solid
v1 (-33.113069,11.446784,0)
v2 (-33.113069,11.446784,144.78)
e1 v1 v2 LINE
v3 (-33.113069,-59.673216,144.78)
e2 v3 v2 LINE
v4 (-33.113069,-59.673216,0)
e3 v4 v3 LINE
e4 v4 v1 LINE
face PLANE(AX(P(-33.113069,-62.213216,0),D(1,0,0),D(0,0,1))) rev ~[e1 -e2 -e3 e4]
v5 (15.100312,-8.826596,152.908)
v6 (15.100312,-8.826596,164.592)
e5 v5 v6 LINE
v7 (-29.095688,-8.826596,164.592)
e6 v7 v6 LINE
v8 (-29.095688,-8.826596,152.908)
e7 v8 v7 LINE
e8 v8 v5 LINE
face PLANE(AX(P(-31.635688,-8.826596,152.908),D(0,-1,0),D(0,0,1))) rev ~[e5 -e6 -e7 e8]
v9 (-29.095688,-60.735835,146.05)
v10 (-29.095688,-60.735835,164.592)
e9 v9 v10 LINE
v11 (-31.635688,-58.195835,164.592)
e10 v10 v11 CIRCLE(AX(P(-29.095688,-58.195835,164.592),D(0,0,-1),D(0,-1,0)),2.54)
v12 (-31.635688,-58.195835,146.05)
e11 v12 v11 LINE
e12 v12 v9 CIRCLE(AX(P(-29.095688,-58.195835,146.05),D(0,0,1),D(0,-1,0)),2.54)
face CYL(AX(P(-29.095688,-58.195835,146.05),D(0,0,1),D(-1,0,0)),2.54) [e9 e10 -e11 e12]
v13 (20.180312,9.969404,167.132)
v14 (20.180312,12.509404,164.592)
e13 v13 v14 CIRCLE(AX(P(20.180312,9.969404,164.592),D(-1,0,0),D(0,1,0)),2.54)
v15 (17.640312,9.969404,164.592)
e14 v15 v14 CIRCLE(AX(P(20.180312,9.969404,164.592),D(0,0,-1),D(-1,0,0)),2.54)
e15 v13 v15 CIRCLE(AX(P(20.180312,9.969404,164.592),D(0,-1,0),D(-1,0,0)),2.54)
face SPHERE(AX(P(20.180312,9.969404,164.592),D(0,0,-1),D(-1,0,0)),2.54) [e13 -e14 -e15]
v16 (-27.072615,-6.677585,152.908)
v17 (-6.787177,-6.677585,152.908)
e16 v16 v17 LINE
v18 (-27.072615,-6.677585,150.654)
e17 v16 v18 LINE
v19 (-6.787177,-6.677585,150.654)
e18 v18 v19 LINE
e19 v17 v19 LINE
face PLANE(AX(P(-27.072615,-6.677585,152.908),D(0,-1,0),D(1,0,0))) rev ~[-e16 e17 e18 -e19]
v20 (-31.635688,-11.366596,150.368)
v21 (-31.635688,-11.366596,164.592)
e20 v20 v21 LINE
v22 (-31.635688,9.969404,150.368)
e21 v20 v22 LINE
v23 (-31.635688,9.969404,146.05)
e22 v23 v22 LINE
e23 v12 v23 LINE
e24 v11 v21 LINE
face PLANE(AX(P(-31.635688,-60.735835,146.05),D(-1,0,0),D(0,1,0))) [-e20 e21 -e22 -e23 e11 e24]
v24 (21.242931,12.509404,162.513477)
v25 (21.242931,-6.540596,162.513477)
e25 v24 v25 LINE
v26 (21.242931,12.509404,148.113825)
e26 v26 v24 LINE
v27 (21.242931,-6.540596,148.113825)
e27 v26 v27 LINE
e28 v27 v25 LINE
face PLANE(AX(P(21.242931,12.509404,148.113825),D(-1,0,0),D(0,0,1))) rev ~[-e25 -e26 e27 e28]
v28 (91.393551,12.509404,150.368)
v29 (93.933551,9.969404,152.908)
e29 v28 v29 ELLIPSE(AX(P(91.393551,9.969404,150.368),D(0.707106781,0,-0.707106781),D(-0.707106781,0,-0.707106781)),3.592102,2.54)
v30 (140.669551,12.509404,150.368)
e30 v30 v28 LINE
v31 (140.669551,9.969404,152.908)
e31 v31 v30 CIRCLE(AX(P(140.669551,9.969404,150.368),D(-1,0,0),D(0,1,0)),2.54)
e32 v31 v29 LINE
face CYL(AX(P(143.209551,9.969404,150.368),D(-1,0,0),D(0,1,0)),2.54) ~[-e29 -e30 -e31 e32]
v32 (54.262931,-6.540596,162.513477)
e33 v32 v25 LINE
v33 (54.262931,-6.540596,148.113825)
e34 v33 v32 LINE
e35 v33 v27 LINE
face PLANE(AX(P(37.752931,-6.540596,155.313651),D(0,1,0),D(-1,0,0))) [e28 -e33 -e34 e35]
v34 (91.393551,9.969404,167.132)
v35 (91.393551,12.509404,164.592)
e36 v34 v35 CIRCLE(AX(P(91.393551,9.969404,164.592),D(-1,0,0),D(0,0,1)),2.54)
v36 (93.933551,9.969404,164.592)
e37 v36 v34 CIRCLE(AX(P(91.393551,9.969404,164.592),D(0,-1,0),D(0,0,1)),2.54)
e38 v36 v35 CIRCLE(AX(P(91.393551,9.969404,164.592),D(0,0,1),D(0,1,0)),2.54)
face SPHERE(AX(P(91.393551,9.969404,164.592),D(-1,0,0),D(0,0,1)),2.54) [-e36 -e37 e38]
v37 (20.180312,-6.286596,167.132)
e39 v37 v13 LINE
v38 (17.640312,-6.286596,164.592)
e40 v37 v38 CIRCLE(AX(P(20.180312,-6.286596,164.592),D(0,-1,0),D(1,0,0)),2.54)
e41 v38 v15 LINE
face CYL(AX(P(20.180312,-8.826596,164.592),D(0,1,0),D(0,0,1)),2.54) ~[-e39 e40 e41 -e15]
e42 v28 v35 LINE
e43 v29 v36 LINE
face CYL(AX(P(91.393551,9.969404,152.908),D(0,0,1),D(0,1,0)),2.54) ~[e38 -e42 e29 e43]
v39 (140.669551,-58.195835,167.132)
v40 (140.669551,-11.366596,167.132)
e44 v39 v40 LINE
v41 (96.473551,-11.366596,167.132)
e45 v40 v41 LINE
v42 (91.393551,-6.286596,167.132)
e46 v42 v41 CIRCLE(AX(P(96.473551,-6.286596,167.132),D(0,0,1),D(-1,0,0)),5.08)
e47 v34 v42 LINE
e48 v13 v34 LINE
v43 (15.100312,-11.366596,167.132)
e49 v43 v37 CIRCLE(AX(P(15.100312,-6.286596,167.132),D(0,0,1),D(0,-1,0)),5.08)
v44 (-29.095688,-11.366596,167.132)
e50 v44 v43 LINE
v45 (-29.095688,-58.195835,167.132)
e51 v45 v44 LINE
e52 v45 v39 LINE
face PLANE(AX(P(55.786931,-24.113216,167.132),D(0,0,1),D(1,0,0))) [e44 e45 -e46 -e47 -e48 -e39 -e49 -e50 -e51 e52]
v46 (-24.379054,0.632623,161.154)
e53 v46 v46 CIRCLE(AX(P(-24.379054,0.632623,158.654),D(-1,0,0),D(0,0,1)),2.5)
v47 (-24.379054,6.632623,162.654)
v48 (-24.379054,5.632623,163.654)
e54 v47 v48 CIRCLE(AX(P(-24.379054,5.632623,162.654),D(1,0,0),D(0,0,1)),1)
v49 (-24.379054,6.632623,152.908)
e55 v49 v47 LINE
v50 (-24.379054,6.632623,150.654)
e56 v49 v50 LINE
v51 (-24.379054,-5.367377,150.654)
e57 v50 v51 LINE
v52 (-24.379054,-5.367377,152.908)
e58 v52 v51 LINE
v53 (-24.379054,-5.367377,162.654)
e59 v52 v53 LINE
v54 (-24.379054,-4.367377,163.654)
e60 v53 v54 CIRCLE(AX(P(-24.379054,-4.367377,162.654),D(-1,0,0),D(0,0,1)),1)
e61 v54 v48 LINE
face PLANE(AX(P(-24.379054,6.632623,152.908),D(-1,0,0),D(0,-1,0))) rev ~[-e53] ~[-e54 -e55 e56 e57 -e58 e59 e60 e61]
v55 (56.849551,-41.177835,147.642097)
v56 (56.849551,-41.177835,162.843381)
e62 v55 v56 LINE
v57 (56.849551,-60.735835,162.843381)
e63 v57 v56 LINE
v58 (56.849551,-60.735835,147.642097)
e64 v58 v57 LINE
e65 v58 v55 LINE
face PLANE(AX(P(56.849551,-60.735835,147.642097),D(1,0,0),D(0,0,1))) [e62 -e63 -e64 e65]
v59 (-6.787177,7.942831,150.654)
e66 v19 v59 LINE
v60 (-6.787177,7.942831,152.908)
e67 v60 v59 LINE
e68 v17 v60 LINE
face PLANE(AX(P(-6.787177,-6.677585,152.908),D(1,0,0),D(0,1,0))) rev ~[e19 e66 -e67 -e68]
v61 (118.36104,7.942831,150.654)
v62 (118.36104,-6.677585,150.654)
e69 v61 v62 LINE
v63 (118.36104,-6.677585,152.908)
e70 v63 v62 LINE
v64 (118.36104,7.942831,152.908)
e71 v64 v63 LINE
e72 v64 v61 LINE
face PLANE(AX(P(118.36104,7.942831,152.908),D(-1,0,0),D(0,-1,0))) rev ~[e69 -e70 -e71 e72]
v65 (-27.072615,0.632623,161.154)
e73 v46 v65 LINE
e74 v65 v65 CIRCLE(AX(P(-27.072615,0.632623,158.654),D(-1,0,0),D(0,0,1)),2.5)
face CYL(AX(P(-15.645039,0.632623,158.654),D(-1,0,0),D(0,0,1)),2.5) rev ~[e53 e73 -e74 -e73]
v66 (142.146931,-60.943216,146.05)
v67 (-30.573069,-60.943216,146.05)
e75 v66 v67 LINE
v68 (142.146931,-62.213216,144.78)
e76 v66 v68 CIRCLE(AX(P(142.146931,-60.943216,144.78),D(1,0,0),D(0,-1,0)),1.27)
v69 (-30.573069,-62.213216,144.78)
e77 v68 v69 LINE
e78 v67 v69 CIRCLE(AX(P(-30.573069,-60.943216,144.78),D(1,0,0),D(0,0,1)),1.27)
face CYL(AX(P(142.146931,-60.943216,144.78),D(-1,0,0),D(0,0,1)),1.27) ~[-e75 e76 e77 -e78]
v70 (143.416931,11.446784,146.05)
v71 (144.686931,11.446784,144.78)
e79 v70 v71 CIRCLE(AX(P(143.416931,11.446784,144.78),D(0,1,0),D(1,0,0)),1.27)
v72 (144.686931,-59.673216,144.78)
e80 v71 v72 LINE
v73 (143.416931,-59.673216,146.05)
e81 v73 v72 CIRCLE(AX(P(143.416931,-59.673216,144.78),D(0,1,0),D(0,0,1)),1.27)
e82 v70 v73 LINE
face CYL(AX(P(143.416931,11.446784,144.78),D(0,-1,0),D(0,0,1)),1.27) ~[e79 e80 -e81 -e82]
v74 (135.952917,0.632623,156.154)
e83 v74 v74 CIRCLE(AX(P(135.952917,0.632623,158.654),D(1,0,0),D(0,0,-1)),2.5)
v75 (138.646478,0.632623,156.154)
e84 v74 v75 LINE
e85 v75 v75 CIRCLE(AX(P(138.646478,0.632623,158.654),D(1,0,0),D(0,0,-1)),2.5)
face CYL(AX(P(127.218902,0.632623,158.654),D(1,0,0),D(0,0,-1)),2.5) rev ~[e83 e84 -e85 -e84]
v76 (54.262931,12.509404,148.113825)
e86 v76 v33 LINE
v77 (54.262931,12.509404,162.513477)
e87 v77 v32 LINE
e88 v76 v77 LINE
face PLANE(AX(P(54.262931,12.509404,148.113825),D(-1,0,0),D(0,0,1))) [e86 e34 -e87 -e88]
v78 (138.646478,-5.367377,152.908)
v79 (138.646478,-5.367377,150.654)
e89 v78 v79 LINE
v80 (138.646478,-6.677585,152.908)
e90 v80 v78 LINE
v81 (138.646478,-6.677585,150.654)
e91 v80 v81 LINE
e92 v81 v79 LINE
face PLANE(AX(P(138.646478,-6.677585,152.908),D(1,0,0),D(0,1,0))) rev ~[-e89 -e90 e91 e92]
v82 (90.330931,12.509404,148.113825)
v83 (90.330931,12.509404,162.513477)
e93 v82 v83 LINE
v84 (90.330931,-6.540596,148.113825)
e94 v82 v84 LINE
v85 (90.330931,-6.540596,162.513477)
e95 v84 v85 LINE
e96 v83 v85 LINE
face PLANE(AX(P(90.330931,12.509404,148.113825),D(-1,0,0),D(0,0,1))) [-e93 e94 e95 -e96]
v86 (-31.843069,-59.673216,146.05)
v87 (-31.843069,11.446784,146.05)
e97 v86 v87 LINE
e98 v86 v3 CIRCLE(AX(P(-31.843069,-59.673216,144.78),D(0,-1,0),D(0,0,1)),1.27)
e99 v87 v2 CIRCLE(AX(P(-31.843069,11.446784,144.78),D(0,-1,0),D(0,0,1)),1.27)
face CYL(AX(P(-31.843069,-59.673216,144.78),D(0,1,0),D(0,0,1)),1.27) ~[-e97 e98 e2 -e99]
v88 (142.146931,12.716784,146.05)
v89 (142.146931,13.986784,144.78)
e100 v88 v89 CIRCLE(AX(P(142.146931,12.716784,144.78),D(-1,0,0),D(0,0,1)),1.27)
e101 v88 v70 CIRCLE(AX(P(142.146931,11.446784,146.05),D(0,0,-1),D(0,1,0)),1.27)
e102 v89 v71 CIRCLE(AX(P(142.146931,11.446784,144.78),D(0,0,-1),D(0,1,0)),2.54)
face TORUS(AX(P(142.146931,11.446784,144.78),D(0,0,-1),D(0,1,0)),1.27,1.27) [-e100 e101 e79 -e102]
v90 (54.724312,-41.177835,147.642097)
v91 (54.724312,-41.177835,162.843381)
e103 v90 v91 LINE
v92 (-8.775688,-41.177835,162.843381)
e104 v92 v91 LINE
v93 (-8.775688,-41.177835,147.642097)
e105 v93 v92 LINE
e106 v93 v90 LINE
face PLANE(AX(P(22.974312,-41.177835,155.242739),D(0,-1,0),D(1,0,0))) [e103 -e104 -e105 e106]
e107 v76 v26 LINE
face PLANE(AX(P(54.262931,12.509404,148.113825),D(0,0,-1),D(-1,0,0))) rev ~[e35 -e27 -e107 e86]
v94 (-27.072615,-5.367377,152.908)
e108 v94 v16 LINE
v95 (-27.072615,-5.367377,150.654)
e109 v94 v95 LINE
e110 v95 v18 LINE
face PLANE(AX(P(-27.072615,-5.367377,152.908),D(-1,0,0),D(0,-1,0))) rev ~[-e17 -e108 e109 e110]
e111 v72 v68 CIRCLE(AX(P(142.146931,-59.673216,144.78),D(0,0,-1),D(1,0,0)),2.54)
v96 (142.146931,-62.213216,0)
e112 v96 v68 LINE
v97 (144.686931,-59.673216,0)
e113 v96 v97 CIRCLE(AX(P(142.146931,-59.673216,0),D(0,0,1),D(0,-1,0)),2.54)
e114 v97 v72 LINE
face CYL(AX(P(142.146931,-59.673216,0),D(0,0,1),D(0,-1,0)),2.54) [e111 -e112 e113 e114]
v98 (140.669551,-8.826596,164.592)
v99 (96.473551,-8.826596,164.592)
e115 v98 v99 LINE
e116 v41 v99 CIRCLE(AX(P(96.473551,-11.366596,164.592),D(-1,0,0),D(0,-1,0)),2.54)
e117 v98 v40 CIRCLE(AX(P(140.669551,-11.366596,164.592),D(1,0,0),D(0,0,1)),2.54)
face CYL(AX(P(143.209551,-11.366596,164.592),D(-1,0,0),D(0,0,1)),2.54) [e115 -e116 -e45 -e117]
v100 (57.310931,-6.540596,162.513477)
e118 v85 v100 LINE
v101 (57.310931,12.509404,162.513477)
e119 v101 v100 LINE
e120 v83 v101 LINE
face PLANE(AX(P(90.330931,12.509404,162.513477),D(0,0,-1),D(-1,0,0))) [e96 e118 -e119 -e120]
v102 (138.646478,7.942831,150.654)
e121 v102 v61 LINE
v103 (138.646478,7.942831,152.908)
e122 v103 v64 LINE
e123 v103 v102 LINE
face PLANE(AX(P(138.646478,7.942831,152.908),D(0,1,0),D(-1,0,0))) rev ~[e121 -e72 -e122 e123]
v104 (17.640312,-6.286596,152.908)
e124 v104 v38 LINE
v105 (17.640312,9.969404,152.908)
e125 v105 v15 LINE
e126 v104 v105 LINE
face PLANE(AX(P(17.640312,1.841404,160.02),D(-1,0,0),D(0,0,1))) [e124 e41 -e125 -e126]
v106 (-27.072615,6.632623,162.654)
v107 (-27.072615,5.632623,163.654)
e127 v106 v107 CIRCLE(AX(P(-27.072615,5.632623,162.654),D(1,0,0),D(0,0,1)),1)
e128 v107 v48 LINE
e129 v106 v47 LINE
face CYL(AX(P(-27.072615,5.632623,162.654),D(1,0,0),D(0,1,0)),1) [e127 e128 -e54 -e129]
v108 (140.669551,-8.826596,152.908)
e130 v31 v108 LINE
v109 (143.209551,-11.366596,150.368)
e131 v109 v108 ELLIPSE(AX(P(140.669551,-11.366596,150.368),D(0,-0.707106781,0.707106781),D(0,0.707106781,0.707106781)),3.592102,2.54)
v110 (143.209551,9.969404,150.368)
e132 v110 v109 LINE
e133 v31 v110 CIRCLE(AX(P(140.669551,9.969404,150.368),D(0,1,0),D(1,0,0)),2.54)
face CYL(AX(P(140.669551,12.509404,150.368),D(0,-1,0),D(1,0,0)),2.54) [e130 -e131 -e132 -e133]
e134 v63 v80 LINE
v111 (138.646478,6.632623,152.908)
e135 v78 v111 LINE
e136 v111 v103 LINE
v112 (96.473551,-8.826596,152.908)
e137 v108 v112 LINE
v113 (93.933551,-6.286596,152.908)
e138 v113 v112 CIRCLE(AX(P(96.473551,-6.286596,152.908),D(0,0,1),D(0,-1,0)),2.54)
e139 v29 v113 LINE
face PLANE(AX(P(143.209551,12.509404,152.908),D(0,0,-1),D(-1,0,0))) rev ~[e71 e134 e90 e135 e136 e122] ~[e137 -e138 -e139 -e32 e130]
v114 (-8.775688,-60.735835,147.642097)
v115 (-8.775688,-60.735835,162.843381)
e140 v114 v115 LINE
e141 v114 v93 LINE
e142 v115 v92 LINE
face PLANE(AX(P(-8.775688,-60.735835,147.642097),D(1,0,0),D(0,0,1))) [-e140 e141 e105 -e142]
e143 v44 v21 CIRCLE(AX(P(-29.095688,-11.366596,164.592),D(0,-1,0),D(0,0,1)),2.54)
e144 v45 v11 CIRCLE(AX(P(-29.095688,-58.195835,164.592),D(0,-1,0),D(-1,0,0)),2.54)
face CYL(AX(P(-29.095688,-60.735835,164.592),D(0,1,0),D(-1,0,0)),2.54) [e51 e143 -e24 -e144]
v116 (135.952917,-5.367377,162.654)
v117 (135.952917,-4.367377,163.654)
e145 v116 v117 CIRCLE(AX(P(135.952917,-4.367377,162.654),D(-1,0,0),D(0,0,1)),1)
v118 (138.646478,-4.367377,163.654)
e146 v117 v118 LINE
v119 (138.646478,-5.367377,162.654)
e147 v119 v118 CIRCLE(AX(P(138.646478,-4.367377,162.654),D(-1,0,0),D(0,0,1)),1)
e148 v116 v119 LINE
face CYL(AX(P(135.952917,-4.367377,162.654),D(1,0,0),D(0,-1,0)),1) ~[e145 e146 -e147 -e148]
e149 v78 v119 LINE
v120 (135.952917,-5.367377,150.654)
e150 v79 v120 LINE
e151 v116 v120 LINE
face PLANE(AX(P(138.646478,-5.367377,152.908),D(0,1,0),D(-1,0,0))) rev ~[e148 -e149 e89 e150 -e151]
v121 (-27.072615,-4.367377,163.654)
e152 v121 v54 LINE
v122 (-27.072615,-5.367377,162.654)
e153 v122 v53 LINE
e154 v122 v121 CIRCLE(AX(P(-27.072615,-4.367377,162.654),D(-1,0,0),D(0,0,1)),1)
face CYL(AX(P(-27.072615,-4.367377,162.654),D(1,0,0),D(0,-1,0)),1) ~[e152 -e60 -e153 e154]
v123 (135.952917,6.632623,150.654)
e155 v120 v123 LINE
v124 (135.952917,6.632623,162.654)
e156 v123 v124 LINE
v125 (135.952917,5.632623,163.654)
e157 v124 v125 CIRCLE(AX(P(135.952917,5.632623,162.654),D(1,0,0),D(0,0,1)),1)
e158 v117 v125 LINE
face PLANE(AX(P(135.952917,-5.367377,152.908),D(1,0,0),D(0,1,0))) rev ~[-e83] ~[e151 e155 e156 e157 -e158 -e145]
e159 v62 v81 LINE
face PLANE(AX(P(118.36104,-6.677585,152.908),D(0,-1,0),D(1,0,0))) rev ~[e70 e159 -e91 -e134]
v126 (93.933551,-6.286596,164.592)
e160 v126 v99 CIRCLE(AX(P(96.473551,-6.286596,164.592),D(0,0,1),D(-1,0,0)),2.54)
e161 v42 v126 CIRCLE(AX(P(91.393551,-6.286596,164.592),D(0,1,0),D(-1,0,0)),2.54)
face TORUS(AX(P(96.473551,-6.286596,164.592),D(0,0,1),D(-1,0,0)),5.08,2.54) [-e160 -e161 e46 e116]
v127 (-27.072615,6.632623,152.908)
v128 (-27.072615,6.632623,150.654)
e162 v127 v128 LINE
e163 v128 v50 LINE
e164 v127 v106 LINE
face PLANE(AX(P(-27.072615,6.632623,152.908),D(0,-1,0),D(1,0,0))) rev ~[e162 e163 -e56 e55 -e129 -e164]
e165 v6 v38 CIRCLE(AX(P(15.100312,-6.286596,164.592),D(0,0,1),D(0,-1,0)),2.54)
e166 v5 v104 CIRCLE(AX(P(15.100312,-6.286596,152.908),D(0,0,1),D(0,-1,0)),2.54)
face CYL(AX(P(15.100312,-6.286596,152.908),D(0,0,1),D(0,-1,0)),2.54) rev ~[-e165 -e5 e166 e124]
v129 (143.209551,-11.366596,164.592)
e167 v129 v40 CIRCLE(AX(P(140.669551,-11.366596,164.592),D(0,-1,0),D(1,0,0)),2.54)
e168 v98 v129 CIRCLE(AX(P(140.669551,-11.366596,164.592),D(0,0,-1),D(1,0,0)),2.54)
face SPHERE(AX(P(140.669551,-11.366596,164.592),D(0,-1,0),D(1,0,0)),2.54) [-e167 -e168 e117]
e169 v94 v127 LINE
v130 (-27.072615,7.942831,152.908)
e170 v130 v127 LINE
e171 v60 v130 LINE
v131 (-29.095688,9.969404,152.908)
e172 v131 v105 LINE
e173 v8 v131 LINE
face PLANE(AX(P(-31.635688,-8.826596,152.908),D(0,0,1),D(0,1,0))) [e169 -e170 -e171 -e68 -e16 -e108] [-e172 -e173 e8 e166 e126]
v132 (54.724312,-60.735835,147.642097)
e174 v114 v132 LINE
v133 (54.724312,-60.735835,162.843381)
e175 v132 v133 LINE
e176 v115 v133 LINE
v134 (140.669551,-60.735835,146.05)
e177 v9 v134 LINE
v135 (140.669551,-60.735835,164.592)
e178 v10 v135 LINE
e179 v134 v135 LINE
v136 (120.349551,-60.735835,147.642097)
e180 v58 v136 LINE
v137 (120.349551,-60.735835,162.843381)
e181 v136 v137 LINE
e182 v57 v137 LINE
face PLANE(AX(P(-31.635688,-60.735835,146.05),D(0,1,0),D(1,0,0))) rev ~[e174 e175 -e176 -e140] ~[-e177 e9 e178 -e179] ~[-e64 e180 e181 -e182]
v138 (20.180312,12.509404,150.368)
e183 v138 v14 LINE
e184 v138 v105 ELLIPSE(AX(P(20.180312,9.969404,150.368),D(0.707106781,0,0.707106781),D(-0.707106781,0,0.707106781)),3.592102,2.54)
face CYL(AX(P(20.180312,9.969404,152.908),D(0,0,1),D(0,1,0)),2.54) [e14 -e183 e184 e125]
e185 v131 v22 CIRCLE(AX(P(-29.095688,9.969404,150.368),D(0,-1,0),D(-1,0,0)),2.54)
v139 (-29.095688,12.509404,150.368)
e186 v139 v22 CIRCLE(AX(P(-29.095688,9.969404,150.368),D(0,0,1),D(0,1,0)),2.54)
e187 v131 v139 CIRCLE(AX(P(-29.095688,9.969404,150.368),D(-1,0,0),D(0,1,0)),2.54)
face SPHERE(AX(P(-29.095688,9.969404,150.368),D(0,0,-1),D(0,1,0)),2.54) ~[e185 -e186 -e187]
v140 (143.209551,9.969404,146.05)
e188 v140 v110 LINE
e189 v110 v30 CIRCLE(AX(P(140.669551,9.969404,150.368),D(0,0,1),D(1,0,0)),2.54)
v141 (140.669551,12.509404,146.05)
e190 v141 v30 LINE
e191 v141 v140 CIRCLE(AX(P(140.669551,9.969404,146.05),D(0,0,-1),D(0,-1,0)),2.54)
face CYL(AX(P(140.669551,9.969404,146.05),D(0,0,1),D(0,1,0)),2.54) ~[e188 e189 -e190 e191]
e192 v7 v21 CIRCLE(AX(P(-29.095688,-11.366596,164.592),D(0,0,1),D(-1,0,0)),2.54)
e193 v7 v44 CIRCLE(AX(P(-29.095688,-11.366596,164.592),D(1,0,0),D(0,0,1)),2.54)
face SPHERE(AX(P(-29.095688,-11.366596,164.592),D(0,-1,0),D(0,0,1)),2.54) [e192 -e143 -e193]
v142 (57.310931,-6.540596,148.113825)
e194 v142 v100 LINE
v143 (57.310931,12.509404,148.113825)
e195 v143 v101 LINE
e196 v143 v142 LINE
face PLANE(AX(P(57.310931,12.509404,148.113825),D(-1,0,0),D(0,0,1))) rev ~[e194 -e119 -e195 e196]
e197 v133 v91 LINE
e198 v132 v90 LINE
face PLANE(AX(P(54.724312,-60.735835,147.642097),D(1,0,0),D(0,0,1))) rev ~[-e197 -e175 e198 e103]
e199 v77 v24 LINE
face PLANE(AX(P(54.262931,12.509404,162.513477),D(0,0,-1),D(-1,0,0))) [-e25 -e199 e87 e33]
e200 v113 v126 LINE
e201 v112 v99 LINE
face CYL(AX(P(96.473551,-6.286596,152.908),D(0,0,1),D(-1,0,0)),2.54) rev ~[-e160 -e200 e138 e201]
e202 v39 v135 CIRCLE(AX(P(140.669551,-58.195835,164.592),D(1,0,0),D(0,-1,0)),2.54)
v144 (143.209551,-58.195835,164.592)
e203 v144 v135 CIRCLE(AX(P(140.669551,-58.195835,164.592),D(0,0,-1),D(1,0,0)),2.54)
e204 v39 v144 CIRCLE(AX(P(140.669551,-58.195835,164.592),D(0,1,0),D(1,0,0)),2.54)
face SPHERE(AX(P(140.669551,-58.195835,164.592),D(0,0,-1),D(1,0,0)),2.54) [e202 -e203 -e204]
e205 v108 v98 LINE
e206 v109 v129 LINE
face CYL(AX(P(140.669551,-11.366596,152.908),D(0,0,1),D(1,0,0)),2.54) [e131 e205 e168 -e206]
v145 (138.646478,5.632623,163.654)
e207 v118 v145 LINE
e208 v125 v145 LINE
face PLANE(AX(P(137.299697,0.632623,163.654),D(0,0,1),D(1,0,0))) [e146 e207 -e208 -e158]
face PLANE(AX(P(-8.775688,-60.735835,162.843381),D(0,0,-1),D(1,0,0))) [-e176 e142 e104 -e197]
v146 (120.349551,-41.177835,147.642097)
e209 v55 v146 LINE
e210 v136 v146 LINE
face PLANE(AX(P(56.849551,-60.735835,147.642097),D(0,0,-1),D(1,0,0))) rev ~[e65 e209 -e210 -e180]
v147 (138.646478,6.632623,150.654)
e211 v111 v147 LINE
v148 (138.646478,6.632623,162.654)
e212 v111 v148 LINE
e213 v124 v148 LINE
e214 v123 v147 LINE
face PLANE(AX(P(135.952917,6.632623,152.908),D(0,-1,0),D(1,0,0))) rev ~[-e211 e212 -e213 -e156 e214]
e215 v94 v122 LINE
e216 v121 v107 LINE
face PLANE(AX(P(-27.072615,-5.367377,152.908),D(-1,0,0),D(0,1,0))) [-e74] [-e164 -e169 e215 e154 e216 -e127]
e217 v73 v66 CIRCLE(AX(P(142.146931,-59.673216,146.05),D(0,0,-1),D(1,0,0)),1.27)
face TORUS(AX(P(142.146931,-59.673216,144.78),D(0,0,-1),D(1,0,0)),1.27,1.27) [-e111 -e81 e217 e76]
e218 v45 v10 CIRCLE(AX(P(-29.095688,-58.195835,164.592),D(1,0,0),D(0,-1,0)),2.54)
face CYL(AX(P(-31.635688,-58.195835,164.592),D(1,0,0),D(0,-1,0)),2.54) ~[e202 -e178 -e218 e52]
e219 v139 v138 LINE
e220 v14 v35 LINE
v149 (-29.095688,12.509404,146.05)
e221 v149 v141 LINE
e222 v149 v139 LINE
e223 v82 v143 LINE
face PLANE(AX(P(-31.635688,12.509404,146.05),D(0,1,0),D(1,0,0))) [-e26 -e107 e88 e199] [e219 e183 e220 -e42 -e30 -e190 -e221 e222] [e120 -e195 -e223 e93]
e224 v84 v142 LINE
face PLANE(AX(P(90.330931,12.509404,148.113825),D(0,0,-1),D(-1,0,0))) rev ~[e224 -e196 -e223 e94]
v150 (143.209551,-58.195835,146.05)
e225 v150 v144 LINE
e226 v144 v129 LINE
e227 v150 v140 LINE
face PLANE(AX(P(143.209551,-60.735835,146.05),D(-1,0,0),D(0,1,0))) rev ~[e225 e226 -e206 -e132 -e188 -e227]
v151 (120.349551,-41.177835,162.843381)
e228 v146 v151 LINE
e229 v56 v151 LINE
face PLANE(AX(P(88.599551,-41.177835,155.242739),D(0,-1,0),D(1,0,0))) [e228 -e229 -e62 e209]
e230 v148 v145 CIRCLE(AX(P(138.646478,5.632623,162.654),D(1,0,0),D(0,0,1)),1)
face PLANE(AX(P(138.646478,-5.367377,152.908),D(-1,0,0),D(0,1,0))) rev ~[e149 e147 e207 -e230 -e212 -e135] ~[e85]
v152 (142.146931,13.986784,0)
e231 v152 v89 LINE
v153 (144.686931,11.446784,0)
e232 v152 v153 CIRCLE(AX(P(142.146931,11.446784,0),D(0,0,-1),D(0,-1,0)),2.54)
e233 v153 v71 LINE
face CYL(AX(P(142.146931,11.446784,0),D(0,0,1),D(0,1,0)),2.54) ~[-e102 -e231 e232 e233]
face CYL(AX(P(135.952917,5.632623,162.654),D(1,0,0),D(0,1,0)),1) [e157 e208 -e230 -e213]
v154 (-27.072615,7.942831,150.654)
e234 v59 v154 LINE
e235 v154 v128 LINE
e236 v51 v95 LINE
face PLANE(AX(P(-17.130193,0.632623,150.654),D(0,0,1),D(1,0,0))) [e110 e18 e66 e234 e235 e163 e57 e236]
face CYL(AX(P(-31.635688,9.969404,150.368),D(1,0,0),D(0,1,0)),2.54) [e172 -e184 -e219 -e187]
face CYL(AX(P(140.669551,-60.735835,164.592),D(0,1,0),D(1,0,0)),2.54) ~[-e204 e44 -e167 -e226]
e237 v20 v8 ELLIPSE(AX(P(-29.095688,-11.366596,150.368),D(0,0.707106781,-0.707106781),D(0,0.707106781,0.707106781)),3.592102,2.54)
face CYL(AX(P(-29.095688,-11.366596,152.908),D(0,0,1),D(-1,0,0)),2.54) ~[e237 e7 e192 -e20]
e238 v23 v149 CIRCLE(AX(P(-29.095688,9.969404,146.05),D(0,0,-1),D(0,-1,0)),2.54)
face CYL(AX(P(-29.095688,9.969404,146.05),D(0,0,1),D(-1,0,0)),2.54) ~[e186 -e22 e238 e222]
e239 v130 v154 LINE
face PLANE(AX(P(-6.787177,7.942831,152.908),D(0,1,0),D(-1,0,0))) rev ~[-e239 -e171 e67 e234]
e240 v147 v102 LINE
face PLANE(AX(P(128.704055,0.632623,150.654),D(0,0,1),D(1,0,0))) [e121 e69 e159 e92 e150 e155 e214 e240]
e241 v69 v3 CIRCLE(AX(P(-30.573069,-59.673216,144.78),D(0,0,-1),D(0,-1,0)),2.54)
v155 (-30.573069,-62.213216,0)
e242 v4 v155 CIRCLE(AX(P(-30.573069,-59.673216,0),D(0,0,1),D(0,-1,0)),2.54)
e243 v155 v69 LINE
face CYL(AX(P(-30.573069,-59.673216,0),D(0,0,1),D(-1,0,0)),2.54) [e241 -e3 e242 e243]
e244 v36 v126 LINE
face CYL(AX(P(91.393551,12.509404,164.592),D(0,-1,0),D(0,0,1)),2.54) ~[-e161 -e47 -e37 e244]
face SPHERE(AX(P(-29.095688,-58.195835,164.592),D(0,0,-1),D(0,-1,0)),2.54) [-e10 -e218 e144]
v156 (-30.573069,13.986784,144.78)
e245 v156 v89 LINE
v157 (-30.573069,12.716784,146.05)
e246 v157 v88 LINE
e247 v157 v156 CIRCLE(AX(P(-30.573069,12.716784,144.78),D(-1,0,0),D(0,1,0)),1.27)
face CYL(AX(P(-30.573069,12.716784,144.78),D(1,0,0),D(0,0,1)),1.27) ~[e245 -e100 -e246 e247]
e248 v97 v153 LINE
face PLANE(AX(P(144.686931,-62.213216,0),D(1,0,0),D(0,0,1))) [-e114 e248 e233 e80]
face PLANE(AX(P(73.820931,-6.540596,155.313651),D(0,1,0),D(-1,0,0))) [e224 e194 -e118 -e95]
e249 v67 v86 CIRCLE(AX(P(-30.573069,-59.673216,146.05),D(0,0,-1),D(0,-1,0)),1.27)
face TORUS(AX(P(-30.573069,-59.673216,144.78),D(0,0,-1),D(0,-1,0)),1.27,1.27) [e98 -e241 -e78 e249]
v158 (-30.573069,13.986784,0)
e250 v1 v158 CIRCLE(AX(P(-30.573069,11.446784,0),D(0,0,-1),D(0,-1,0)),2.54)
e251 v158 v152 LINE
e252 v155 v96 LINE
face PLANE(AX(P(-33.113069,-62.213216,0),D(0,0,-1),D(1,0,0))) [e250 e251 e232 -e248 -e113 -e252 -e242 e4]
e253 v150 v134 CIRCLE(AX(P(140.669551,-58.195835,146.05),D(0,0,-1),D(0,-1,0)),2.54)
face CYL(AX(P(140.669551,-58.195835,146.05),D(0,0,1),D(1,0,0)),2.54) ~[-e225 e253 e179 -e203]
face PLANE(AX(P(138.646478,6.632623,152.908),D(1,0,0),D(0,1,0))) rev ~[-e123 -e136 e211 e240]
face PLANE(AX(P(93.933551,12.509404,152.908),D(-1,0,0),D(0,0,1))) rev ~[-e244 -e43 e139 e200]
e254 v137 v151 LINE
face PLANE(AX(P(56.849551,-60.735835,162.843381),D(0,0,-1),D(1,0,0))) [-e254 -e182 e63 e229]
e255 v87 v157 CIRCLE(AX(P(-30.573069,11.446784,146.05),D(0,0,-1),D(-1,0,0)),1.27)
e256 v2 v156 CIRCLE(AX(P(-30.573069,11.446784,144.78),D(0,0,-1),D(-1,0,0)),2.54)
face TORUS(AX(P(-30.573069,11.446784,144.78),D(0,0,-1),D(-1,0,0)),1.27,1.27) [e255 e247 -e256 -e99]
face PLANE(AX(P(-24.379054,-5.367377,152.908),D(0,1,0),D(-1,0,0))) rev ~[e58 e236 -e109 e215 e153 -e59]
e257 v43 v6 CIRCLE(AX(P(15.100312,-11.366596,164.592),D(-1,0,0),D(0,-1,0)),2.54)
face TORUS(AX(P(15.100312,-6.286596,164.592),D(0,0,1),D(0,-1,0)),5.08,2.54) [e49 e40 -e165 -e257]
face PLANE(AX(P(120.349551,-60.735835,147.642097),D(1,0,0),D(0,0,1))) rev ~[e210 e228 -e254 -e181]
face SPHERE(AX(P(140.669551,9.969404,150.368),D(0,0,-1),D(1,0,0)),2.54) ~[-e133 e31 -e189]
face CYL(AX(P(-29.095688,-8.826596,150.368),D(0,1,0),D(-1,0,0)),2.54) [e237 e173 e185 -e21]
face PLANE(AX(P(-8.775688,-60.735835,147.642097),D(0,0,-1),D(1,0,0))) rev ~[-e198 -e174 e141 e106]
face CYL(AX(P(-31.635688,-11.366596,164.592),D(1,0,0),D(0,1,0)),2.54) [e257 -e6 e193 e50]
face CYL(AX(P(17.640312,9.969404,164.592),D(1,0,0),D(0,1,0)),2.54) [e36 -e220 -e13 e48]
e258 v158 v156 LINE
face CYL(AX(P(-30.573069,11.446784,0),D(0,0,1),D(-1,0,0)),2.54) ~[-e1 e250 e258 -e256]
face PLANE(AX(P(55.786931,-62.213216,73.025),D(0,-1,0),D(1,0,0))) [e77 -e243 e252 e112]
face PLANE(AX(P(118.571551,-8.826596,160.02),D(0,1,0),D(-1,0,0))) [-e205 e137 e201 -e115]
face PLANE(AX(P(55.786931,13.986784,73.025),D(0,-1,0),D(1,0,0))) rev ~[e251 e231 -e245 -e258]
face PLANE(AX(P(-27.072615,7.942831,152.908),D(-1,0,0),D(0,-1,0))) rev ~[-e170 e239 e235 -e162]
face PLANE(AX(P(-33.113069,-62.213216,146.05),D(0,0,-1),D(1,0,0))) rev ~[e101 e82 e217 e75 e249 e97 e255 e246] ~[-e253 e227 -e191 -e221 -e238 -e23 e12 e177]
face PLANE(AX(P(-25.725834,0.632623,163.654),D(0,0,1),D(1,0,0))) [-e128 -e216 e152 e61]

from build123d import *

# Parameters (mm, degrees)
SKETCH1_W                    = 177.8
SKETCH1_H                    = 146.05
BOSS_EXTRUDE1_DEPTH          = 76.2
SKETCH2_W                    = 174.845239449
SKETCH2_H                    = 73.245239449
BOSS_EXTRUDE2_DEPTH          = 21.082
SKETCH3_W                    = 14.224
SKETCH3_H                    = 21.336
CUT_EXTRUDE1_DEPTH           = 49.276
SKETCH4_W                    = 2.693561453
SKETCH4_H                    = 12
BOSS_EXTRUDE3_DEPTH          = 10.746
CUT_EXTRUDE2_DEPTH           = 2.254
SKETCH6_W                    = 49.276
SKETCH6_H                    = 14.224
CUT_EXTRUDE3_DEPTH           = 21.336
SKETCH7_W                    = 2.693561452
SKETCH7_H                    = 12
BOSS_EXTRUDE4_DEPTH          = 10.746
CUT_EXTRUDE4_DEPTH           = 2.254
SKETCH9_W                    = 33.02
SKETCH9_H                    = 14.399652357
CUT_EXTRUDE5_DEPTH           = 19.05
SKETCH10_W                   = 33.02
SKETCH10_H                   = 14.399652357
CUT_EXTRUDE6_DEPTH           = 19.05
SKETCH11_W                   = 63.5
SKETCH11_H                   = 15.201284342
CUT_EXTRUDE7_DEPTH           = 19.558
SKETCH12_W                   = 63.5
SKETCH12_H                   = 15.201284342
CUT_EXTRUDE8_DEPTH           = 19.558
F_5_0_5_DIAMETER_HOLE1_D     = 5
F_5_0_5_DIAMETER_HOLE1_DEPTH = 8.734014926
F_5_0_5_DIAMETER_HOLE2_D     = 5
F_5_0_5_DIAMETER_HOLE2_DEPTH = 8.734014926
FILLET1_R                    = 2.54
FILLET2_R                    = 1
FILLET3_R                    = 1.27


with BuildPart() as part:
    # Sketch1 → Boss-Extrude1 (new body)
    with BuildSketch(Plane.XZ.offset(62.213215728)):
        with Locations((55.786931477, 73.025)):
            Rectangle(SKETCH1_W, SKETCH1_H)
    extrude(amount=-BOSS_EXTRUDE1_DEPTH)

    # Sketch2 → Boss-Extrude2 (add)
    with BuildSketch(Plane.XY.offset(146.05)):
        with Locations((55.786931477, -24.113215728)):
            Rectangle(SKETCH2_W, SKETCH2_H)
    extrude(amount=BOSS_EXTRUDE2_DEPTH)

    # Sketch3 → Cut-Extrude1 (cut)
    with BuildSketch(Plane.ZY.offset(31.635688247)):
        with Locations((160.02, 1.841403997)):
            Rectangle(SKETCH3_W, SKETCH3_H)
    extrude(amount=-CUT_EXTRUDE1_DEPTH, mode=Mode.SUBTRACT)

    # Sketch4 → Boss-Extrude3 (add)
    with BuildSketch(Plane.XY.offset(152.908)):
        with Locations((-25.725834324, 0.632623113)):
            Rectangle(SKETCH4_W, SKETCH4_H)
    extrude(amount=BOSS_EXTRUDE3_DEPTH)

    # Sketch5 → Cut-Extrude2 (cut)
    with BuildSketch(Plane.XY.offset(152.908)):
        Polygon((-27.07261505, 6.632623113), (-24.379053597, 6.632623113), (-24.379053597, -5.367376887), (-27.07261505, -5.367376887), (-27.07261505, -6.677584717), (-6.787176985, -6.677584717), (-6.787176985, 7.942830943), (-27.07261505, 7.942830943), align=None)
    extrude(amount=-CUT_EXTRUDE2_DEPTH, mode=Mode.SUBTRACT)

    # Sketch6 → Cut-Extrude3 (cut)
    with BuildSketch(Plane(origin=(0, 12.509403997, 0), x_dir=(-1, 0, 0), z_dir=(0, 1, 0))):
        with Locations((-118.571551202, 160.02)):
            Rectangle(SKETCH6_W, SKETCH6_H)
    extrude(amount=-CUT_EXTRUDE3_DEPTH, mode=Mode.SUBTRACT)

    # Sketch7 → Boss-Extrude4 (add)
    with BuildSketch(Plane.XY.offset(152.908)):
        with Locations((137.299697278, 0.632623113)):
            Rectangle(SKETCH7_W, SKETCH7_H)
    extrude(amount=BOSS_EXTRUDE4_DEPTH)

    # Sketch8 → Cut-Extrude4 (cut)
    with BuildSketch(Plane.XY.offset(152.908)):
        Polygon((138.646478004, -5.367376887), (135.952916552, -5.367376887), (135.952916552, 6.632623113), (138.646478004, 6.632623113), (138.646478004, 7.942830943), (118.361039939, 7.942830943), (118.361039939, -6.677584717), (138.646478004, -6.677584717), align=None)
    extrude(amount=-CUT_EXTRUDE4_DEPTH, mode=Mode.SUBTRACT)

    # Sketch9 → Cut-Extrude5 (cut)
    with BuildSketch(Plane(origin=(0, 12.509403997, 0), x_dir=(-1, 0, 0), z_dir=(0, 1, 0))):
        with Locations((-73.820931477, 155.313650768)):
            Rectangle(SKETCH9_W, SKETCH9_H)
    extrude(amount=-CUT_EXTRUDE5_DEPTH, mode=Mode.SUBTRACT)

    # Sketch10 → Cut-Extrude6 (cut)
    with BuildSketch(Plane(origin=(0, 12.509403997, 0), x_dir=(-1, 0, 0), z_dir=(0, 1, 0))):
        with Locations((-37.752931477, 155.313650768)):
            Rectangle(SKETCH10_W, SKETCH10_H)
    extrude(amount=-CUT_EXTRUDE6_DEPTH, mode=Mode.SUBTRACT)

    # Sketch11 → Cut-Extrude7 (cut)
    with BuildSketch(Plane.XZ.offset(60.735835452)):
        with Locations((88.599551202, 155.2427389)):
            Rectangle(SKETCH11_W, SKETCH11_H)
    extrude(amount=-CUT_EXTRUDE7_DEPTH, mode=Mode.SUBTRACT)

    # Sketch12 → Cut-Extrude8 (cut)
    with BuildSketch(Plane.XZ.offset(60.735835452)):
        with Locations((22.974311753, 155.2427389)):
            Rectangle(SKETCH12_W, SKETCH12_H)
    extrude(amount=-CUT_EXTRUDE8_DEPTH, mode=Mode.SUBTRACT)

    # 5.0 _5_ Diameter Hole1
    with Locations(Plane.ZY.offset(-135.952916552)):
        with Locations((158.654, 0.632623113)):
            Hole(F_5_0_5_DIAMETER_HOLE1_D / 2, depth=F_5_0_5_DIAMETER_HOLE1_DEPTH)

    # 5.0 _5_ Diameter Hole2
    with Locations(Plane(origin=(-24.379053597, 0, 0), x_dir=(0, 0, -1), z_dir=(1, 0, 0))):
        with Locations((-158.654, 0.632623113)):
            Hole(F_5_0_5_DIAMETER_HOLE2_D / 2, depth=F_5_0_5_DIAMETER_HOLE2_DEPTH)

    # Fillet1
    fillet1_edges = [part.edges().sort_by_distance(p)[0] for p in [
        (144.686931477, 13.986784272, 73.025),
        (143.209551202, -60.735835452, 156.591),
        (-31.635688247, -60.735835452, 156.591),
        (143.209551202, -34.781215728, 167.132),
        (55.786931477, -60.735835452, 167.132),
        (-31.635688247, -34.781215728, 167.132),
        (-31.635688247, 12.509403997, 149.479),
        (17.640311753, 12.509403997, 160.02),
        (-6.997688247, 12.509403997, 152.908),
        (17.640311753, 1.841403997, 167.132),
        (17.640311753, -8.826596003, 160.02),
        (-6.997688247, -8.826596003, 167.132),
        (-31.635688247, 1.841403997, 152.908),
        (-31.635688247, -8.826596003, 160.02),
        (-33.113068523, 13.986784272, 73.025),
        (144.686931477, -62.213215728, 73.025),
        (-33.113068523, -62.213215728, 73.025),
        (55.786931477, 12.509403997, 167.132),
        (143.209551202, 12.509403997, 149.479),
        (143.209551202, -8.826596003, 160.02),
        (143.209551202, 1.841403997, 152.908),
        (118.571551202, -8.826596003, 167.132),
        (93.933551202, -8.826596003, 160.02),
        (93.933551202, 1.841403997, 167.132),
        (118.571551202, 12.509403997, 152.908),
        (93.933551202, 12.509403997, 160.02),
    ]]
    fillet(fillet1_edges, radius=FILLET1_R)

    # Fillet2
    fillet2_edges = [part.edges().sort_by_distance(p)[0] for p in [
        (-25.725834323, 6.632623113, 163.654),
        (-25.725834323, -5.367376887, 163.654),
        (137.299697278, 6.632623113, 163.654),
        (137.299697278, -5.367376887, 163.654),
    ]]
    fillet(fillet2_edges, radius=FILLET2_R)

    # Fillet3
    fillet3_edges = [part.edges().sort_by_distance(p)[0] for p in [
        (-33.113068523, -24.113215728, 146.05),
        (55.786931477, 13.986784272, 146.05),
        (55.786931477, -62.213215728, 146.05),
        (144.686931477, -24.113215728, 146.05),
        (143.942982701, 13.242835496, 146.05),
        (-32.369119747, -61.469266952, 146.05),
        (143.942982701, -61.469266952, 146.05),
        (-32.369119747, 13.242835496, 146.05),
    ]]
    fillet(fillet3_edges, radius=FILLET3_R)


solid = part.part
